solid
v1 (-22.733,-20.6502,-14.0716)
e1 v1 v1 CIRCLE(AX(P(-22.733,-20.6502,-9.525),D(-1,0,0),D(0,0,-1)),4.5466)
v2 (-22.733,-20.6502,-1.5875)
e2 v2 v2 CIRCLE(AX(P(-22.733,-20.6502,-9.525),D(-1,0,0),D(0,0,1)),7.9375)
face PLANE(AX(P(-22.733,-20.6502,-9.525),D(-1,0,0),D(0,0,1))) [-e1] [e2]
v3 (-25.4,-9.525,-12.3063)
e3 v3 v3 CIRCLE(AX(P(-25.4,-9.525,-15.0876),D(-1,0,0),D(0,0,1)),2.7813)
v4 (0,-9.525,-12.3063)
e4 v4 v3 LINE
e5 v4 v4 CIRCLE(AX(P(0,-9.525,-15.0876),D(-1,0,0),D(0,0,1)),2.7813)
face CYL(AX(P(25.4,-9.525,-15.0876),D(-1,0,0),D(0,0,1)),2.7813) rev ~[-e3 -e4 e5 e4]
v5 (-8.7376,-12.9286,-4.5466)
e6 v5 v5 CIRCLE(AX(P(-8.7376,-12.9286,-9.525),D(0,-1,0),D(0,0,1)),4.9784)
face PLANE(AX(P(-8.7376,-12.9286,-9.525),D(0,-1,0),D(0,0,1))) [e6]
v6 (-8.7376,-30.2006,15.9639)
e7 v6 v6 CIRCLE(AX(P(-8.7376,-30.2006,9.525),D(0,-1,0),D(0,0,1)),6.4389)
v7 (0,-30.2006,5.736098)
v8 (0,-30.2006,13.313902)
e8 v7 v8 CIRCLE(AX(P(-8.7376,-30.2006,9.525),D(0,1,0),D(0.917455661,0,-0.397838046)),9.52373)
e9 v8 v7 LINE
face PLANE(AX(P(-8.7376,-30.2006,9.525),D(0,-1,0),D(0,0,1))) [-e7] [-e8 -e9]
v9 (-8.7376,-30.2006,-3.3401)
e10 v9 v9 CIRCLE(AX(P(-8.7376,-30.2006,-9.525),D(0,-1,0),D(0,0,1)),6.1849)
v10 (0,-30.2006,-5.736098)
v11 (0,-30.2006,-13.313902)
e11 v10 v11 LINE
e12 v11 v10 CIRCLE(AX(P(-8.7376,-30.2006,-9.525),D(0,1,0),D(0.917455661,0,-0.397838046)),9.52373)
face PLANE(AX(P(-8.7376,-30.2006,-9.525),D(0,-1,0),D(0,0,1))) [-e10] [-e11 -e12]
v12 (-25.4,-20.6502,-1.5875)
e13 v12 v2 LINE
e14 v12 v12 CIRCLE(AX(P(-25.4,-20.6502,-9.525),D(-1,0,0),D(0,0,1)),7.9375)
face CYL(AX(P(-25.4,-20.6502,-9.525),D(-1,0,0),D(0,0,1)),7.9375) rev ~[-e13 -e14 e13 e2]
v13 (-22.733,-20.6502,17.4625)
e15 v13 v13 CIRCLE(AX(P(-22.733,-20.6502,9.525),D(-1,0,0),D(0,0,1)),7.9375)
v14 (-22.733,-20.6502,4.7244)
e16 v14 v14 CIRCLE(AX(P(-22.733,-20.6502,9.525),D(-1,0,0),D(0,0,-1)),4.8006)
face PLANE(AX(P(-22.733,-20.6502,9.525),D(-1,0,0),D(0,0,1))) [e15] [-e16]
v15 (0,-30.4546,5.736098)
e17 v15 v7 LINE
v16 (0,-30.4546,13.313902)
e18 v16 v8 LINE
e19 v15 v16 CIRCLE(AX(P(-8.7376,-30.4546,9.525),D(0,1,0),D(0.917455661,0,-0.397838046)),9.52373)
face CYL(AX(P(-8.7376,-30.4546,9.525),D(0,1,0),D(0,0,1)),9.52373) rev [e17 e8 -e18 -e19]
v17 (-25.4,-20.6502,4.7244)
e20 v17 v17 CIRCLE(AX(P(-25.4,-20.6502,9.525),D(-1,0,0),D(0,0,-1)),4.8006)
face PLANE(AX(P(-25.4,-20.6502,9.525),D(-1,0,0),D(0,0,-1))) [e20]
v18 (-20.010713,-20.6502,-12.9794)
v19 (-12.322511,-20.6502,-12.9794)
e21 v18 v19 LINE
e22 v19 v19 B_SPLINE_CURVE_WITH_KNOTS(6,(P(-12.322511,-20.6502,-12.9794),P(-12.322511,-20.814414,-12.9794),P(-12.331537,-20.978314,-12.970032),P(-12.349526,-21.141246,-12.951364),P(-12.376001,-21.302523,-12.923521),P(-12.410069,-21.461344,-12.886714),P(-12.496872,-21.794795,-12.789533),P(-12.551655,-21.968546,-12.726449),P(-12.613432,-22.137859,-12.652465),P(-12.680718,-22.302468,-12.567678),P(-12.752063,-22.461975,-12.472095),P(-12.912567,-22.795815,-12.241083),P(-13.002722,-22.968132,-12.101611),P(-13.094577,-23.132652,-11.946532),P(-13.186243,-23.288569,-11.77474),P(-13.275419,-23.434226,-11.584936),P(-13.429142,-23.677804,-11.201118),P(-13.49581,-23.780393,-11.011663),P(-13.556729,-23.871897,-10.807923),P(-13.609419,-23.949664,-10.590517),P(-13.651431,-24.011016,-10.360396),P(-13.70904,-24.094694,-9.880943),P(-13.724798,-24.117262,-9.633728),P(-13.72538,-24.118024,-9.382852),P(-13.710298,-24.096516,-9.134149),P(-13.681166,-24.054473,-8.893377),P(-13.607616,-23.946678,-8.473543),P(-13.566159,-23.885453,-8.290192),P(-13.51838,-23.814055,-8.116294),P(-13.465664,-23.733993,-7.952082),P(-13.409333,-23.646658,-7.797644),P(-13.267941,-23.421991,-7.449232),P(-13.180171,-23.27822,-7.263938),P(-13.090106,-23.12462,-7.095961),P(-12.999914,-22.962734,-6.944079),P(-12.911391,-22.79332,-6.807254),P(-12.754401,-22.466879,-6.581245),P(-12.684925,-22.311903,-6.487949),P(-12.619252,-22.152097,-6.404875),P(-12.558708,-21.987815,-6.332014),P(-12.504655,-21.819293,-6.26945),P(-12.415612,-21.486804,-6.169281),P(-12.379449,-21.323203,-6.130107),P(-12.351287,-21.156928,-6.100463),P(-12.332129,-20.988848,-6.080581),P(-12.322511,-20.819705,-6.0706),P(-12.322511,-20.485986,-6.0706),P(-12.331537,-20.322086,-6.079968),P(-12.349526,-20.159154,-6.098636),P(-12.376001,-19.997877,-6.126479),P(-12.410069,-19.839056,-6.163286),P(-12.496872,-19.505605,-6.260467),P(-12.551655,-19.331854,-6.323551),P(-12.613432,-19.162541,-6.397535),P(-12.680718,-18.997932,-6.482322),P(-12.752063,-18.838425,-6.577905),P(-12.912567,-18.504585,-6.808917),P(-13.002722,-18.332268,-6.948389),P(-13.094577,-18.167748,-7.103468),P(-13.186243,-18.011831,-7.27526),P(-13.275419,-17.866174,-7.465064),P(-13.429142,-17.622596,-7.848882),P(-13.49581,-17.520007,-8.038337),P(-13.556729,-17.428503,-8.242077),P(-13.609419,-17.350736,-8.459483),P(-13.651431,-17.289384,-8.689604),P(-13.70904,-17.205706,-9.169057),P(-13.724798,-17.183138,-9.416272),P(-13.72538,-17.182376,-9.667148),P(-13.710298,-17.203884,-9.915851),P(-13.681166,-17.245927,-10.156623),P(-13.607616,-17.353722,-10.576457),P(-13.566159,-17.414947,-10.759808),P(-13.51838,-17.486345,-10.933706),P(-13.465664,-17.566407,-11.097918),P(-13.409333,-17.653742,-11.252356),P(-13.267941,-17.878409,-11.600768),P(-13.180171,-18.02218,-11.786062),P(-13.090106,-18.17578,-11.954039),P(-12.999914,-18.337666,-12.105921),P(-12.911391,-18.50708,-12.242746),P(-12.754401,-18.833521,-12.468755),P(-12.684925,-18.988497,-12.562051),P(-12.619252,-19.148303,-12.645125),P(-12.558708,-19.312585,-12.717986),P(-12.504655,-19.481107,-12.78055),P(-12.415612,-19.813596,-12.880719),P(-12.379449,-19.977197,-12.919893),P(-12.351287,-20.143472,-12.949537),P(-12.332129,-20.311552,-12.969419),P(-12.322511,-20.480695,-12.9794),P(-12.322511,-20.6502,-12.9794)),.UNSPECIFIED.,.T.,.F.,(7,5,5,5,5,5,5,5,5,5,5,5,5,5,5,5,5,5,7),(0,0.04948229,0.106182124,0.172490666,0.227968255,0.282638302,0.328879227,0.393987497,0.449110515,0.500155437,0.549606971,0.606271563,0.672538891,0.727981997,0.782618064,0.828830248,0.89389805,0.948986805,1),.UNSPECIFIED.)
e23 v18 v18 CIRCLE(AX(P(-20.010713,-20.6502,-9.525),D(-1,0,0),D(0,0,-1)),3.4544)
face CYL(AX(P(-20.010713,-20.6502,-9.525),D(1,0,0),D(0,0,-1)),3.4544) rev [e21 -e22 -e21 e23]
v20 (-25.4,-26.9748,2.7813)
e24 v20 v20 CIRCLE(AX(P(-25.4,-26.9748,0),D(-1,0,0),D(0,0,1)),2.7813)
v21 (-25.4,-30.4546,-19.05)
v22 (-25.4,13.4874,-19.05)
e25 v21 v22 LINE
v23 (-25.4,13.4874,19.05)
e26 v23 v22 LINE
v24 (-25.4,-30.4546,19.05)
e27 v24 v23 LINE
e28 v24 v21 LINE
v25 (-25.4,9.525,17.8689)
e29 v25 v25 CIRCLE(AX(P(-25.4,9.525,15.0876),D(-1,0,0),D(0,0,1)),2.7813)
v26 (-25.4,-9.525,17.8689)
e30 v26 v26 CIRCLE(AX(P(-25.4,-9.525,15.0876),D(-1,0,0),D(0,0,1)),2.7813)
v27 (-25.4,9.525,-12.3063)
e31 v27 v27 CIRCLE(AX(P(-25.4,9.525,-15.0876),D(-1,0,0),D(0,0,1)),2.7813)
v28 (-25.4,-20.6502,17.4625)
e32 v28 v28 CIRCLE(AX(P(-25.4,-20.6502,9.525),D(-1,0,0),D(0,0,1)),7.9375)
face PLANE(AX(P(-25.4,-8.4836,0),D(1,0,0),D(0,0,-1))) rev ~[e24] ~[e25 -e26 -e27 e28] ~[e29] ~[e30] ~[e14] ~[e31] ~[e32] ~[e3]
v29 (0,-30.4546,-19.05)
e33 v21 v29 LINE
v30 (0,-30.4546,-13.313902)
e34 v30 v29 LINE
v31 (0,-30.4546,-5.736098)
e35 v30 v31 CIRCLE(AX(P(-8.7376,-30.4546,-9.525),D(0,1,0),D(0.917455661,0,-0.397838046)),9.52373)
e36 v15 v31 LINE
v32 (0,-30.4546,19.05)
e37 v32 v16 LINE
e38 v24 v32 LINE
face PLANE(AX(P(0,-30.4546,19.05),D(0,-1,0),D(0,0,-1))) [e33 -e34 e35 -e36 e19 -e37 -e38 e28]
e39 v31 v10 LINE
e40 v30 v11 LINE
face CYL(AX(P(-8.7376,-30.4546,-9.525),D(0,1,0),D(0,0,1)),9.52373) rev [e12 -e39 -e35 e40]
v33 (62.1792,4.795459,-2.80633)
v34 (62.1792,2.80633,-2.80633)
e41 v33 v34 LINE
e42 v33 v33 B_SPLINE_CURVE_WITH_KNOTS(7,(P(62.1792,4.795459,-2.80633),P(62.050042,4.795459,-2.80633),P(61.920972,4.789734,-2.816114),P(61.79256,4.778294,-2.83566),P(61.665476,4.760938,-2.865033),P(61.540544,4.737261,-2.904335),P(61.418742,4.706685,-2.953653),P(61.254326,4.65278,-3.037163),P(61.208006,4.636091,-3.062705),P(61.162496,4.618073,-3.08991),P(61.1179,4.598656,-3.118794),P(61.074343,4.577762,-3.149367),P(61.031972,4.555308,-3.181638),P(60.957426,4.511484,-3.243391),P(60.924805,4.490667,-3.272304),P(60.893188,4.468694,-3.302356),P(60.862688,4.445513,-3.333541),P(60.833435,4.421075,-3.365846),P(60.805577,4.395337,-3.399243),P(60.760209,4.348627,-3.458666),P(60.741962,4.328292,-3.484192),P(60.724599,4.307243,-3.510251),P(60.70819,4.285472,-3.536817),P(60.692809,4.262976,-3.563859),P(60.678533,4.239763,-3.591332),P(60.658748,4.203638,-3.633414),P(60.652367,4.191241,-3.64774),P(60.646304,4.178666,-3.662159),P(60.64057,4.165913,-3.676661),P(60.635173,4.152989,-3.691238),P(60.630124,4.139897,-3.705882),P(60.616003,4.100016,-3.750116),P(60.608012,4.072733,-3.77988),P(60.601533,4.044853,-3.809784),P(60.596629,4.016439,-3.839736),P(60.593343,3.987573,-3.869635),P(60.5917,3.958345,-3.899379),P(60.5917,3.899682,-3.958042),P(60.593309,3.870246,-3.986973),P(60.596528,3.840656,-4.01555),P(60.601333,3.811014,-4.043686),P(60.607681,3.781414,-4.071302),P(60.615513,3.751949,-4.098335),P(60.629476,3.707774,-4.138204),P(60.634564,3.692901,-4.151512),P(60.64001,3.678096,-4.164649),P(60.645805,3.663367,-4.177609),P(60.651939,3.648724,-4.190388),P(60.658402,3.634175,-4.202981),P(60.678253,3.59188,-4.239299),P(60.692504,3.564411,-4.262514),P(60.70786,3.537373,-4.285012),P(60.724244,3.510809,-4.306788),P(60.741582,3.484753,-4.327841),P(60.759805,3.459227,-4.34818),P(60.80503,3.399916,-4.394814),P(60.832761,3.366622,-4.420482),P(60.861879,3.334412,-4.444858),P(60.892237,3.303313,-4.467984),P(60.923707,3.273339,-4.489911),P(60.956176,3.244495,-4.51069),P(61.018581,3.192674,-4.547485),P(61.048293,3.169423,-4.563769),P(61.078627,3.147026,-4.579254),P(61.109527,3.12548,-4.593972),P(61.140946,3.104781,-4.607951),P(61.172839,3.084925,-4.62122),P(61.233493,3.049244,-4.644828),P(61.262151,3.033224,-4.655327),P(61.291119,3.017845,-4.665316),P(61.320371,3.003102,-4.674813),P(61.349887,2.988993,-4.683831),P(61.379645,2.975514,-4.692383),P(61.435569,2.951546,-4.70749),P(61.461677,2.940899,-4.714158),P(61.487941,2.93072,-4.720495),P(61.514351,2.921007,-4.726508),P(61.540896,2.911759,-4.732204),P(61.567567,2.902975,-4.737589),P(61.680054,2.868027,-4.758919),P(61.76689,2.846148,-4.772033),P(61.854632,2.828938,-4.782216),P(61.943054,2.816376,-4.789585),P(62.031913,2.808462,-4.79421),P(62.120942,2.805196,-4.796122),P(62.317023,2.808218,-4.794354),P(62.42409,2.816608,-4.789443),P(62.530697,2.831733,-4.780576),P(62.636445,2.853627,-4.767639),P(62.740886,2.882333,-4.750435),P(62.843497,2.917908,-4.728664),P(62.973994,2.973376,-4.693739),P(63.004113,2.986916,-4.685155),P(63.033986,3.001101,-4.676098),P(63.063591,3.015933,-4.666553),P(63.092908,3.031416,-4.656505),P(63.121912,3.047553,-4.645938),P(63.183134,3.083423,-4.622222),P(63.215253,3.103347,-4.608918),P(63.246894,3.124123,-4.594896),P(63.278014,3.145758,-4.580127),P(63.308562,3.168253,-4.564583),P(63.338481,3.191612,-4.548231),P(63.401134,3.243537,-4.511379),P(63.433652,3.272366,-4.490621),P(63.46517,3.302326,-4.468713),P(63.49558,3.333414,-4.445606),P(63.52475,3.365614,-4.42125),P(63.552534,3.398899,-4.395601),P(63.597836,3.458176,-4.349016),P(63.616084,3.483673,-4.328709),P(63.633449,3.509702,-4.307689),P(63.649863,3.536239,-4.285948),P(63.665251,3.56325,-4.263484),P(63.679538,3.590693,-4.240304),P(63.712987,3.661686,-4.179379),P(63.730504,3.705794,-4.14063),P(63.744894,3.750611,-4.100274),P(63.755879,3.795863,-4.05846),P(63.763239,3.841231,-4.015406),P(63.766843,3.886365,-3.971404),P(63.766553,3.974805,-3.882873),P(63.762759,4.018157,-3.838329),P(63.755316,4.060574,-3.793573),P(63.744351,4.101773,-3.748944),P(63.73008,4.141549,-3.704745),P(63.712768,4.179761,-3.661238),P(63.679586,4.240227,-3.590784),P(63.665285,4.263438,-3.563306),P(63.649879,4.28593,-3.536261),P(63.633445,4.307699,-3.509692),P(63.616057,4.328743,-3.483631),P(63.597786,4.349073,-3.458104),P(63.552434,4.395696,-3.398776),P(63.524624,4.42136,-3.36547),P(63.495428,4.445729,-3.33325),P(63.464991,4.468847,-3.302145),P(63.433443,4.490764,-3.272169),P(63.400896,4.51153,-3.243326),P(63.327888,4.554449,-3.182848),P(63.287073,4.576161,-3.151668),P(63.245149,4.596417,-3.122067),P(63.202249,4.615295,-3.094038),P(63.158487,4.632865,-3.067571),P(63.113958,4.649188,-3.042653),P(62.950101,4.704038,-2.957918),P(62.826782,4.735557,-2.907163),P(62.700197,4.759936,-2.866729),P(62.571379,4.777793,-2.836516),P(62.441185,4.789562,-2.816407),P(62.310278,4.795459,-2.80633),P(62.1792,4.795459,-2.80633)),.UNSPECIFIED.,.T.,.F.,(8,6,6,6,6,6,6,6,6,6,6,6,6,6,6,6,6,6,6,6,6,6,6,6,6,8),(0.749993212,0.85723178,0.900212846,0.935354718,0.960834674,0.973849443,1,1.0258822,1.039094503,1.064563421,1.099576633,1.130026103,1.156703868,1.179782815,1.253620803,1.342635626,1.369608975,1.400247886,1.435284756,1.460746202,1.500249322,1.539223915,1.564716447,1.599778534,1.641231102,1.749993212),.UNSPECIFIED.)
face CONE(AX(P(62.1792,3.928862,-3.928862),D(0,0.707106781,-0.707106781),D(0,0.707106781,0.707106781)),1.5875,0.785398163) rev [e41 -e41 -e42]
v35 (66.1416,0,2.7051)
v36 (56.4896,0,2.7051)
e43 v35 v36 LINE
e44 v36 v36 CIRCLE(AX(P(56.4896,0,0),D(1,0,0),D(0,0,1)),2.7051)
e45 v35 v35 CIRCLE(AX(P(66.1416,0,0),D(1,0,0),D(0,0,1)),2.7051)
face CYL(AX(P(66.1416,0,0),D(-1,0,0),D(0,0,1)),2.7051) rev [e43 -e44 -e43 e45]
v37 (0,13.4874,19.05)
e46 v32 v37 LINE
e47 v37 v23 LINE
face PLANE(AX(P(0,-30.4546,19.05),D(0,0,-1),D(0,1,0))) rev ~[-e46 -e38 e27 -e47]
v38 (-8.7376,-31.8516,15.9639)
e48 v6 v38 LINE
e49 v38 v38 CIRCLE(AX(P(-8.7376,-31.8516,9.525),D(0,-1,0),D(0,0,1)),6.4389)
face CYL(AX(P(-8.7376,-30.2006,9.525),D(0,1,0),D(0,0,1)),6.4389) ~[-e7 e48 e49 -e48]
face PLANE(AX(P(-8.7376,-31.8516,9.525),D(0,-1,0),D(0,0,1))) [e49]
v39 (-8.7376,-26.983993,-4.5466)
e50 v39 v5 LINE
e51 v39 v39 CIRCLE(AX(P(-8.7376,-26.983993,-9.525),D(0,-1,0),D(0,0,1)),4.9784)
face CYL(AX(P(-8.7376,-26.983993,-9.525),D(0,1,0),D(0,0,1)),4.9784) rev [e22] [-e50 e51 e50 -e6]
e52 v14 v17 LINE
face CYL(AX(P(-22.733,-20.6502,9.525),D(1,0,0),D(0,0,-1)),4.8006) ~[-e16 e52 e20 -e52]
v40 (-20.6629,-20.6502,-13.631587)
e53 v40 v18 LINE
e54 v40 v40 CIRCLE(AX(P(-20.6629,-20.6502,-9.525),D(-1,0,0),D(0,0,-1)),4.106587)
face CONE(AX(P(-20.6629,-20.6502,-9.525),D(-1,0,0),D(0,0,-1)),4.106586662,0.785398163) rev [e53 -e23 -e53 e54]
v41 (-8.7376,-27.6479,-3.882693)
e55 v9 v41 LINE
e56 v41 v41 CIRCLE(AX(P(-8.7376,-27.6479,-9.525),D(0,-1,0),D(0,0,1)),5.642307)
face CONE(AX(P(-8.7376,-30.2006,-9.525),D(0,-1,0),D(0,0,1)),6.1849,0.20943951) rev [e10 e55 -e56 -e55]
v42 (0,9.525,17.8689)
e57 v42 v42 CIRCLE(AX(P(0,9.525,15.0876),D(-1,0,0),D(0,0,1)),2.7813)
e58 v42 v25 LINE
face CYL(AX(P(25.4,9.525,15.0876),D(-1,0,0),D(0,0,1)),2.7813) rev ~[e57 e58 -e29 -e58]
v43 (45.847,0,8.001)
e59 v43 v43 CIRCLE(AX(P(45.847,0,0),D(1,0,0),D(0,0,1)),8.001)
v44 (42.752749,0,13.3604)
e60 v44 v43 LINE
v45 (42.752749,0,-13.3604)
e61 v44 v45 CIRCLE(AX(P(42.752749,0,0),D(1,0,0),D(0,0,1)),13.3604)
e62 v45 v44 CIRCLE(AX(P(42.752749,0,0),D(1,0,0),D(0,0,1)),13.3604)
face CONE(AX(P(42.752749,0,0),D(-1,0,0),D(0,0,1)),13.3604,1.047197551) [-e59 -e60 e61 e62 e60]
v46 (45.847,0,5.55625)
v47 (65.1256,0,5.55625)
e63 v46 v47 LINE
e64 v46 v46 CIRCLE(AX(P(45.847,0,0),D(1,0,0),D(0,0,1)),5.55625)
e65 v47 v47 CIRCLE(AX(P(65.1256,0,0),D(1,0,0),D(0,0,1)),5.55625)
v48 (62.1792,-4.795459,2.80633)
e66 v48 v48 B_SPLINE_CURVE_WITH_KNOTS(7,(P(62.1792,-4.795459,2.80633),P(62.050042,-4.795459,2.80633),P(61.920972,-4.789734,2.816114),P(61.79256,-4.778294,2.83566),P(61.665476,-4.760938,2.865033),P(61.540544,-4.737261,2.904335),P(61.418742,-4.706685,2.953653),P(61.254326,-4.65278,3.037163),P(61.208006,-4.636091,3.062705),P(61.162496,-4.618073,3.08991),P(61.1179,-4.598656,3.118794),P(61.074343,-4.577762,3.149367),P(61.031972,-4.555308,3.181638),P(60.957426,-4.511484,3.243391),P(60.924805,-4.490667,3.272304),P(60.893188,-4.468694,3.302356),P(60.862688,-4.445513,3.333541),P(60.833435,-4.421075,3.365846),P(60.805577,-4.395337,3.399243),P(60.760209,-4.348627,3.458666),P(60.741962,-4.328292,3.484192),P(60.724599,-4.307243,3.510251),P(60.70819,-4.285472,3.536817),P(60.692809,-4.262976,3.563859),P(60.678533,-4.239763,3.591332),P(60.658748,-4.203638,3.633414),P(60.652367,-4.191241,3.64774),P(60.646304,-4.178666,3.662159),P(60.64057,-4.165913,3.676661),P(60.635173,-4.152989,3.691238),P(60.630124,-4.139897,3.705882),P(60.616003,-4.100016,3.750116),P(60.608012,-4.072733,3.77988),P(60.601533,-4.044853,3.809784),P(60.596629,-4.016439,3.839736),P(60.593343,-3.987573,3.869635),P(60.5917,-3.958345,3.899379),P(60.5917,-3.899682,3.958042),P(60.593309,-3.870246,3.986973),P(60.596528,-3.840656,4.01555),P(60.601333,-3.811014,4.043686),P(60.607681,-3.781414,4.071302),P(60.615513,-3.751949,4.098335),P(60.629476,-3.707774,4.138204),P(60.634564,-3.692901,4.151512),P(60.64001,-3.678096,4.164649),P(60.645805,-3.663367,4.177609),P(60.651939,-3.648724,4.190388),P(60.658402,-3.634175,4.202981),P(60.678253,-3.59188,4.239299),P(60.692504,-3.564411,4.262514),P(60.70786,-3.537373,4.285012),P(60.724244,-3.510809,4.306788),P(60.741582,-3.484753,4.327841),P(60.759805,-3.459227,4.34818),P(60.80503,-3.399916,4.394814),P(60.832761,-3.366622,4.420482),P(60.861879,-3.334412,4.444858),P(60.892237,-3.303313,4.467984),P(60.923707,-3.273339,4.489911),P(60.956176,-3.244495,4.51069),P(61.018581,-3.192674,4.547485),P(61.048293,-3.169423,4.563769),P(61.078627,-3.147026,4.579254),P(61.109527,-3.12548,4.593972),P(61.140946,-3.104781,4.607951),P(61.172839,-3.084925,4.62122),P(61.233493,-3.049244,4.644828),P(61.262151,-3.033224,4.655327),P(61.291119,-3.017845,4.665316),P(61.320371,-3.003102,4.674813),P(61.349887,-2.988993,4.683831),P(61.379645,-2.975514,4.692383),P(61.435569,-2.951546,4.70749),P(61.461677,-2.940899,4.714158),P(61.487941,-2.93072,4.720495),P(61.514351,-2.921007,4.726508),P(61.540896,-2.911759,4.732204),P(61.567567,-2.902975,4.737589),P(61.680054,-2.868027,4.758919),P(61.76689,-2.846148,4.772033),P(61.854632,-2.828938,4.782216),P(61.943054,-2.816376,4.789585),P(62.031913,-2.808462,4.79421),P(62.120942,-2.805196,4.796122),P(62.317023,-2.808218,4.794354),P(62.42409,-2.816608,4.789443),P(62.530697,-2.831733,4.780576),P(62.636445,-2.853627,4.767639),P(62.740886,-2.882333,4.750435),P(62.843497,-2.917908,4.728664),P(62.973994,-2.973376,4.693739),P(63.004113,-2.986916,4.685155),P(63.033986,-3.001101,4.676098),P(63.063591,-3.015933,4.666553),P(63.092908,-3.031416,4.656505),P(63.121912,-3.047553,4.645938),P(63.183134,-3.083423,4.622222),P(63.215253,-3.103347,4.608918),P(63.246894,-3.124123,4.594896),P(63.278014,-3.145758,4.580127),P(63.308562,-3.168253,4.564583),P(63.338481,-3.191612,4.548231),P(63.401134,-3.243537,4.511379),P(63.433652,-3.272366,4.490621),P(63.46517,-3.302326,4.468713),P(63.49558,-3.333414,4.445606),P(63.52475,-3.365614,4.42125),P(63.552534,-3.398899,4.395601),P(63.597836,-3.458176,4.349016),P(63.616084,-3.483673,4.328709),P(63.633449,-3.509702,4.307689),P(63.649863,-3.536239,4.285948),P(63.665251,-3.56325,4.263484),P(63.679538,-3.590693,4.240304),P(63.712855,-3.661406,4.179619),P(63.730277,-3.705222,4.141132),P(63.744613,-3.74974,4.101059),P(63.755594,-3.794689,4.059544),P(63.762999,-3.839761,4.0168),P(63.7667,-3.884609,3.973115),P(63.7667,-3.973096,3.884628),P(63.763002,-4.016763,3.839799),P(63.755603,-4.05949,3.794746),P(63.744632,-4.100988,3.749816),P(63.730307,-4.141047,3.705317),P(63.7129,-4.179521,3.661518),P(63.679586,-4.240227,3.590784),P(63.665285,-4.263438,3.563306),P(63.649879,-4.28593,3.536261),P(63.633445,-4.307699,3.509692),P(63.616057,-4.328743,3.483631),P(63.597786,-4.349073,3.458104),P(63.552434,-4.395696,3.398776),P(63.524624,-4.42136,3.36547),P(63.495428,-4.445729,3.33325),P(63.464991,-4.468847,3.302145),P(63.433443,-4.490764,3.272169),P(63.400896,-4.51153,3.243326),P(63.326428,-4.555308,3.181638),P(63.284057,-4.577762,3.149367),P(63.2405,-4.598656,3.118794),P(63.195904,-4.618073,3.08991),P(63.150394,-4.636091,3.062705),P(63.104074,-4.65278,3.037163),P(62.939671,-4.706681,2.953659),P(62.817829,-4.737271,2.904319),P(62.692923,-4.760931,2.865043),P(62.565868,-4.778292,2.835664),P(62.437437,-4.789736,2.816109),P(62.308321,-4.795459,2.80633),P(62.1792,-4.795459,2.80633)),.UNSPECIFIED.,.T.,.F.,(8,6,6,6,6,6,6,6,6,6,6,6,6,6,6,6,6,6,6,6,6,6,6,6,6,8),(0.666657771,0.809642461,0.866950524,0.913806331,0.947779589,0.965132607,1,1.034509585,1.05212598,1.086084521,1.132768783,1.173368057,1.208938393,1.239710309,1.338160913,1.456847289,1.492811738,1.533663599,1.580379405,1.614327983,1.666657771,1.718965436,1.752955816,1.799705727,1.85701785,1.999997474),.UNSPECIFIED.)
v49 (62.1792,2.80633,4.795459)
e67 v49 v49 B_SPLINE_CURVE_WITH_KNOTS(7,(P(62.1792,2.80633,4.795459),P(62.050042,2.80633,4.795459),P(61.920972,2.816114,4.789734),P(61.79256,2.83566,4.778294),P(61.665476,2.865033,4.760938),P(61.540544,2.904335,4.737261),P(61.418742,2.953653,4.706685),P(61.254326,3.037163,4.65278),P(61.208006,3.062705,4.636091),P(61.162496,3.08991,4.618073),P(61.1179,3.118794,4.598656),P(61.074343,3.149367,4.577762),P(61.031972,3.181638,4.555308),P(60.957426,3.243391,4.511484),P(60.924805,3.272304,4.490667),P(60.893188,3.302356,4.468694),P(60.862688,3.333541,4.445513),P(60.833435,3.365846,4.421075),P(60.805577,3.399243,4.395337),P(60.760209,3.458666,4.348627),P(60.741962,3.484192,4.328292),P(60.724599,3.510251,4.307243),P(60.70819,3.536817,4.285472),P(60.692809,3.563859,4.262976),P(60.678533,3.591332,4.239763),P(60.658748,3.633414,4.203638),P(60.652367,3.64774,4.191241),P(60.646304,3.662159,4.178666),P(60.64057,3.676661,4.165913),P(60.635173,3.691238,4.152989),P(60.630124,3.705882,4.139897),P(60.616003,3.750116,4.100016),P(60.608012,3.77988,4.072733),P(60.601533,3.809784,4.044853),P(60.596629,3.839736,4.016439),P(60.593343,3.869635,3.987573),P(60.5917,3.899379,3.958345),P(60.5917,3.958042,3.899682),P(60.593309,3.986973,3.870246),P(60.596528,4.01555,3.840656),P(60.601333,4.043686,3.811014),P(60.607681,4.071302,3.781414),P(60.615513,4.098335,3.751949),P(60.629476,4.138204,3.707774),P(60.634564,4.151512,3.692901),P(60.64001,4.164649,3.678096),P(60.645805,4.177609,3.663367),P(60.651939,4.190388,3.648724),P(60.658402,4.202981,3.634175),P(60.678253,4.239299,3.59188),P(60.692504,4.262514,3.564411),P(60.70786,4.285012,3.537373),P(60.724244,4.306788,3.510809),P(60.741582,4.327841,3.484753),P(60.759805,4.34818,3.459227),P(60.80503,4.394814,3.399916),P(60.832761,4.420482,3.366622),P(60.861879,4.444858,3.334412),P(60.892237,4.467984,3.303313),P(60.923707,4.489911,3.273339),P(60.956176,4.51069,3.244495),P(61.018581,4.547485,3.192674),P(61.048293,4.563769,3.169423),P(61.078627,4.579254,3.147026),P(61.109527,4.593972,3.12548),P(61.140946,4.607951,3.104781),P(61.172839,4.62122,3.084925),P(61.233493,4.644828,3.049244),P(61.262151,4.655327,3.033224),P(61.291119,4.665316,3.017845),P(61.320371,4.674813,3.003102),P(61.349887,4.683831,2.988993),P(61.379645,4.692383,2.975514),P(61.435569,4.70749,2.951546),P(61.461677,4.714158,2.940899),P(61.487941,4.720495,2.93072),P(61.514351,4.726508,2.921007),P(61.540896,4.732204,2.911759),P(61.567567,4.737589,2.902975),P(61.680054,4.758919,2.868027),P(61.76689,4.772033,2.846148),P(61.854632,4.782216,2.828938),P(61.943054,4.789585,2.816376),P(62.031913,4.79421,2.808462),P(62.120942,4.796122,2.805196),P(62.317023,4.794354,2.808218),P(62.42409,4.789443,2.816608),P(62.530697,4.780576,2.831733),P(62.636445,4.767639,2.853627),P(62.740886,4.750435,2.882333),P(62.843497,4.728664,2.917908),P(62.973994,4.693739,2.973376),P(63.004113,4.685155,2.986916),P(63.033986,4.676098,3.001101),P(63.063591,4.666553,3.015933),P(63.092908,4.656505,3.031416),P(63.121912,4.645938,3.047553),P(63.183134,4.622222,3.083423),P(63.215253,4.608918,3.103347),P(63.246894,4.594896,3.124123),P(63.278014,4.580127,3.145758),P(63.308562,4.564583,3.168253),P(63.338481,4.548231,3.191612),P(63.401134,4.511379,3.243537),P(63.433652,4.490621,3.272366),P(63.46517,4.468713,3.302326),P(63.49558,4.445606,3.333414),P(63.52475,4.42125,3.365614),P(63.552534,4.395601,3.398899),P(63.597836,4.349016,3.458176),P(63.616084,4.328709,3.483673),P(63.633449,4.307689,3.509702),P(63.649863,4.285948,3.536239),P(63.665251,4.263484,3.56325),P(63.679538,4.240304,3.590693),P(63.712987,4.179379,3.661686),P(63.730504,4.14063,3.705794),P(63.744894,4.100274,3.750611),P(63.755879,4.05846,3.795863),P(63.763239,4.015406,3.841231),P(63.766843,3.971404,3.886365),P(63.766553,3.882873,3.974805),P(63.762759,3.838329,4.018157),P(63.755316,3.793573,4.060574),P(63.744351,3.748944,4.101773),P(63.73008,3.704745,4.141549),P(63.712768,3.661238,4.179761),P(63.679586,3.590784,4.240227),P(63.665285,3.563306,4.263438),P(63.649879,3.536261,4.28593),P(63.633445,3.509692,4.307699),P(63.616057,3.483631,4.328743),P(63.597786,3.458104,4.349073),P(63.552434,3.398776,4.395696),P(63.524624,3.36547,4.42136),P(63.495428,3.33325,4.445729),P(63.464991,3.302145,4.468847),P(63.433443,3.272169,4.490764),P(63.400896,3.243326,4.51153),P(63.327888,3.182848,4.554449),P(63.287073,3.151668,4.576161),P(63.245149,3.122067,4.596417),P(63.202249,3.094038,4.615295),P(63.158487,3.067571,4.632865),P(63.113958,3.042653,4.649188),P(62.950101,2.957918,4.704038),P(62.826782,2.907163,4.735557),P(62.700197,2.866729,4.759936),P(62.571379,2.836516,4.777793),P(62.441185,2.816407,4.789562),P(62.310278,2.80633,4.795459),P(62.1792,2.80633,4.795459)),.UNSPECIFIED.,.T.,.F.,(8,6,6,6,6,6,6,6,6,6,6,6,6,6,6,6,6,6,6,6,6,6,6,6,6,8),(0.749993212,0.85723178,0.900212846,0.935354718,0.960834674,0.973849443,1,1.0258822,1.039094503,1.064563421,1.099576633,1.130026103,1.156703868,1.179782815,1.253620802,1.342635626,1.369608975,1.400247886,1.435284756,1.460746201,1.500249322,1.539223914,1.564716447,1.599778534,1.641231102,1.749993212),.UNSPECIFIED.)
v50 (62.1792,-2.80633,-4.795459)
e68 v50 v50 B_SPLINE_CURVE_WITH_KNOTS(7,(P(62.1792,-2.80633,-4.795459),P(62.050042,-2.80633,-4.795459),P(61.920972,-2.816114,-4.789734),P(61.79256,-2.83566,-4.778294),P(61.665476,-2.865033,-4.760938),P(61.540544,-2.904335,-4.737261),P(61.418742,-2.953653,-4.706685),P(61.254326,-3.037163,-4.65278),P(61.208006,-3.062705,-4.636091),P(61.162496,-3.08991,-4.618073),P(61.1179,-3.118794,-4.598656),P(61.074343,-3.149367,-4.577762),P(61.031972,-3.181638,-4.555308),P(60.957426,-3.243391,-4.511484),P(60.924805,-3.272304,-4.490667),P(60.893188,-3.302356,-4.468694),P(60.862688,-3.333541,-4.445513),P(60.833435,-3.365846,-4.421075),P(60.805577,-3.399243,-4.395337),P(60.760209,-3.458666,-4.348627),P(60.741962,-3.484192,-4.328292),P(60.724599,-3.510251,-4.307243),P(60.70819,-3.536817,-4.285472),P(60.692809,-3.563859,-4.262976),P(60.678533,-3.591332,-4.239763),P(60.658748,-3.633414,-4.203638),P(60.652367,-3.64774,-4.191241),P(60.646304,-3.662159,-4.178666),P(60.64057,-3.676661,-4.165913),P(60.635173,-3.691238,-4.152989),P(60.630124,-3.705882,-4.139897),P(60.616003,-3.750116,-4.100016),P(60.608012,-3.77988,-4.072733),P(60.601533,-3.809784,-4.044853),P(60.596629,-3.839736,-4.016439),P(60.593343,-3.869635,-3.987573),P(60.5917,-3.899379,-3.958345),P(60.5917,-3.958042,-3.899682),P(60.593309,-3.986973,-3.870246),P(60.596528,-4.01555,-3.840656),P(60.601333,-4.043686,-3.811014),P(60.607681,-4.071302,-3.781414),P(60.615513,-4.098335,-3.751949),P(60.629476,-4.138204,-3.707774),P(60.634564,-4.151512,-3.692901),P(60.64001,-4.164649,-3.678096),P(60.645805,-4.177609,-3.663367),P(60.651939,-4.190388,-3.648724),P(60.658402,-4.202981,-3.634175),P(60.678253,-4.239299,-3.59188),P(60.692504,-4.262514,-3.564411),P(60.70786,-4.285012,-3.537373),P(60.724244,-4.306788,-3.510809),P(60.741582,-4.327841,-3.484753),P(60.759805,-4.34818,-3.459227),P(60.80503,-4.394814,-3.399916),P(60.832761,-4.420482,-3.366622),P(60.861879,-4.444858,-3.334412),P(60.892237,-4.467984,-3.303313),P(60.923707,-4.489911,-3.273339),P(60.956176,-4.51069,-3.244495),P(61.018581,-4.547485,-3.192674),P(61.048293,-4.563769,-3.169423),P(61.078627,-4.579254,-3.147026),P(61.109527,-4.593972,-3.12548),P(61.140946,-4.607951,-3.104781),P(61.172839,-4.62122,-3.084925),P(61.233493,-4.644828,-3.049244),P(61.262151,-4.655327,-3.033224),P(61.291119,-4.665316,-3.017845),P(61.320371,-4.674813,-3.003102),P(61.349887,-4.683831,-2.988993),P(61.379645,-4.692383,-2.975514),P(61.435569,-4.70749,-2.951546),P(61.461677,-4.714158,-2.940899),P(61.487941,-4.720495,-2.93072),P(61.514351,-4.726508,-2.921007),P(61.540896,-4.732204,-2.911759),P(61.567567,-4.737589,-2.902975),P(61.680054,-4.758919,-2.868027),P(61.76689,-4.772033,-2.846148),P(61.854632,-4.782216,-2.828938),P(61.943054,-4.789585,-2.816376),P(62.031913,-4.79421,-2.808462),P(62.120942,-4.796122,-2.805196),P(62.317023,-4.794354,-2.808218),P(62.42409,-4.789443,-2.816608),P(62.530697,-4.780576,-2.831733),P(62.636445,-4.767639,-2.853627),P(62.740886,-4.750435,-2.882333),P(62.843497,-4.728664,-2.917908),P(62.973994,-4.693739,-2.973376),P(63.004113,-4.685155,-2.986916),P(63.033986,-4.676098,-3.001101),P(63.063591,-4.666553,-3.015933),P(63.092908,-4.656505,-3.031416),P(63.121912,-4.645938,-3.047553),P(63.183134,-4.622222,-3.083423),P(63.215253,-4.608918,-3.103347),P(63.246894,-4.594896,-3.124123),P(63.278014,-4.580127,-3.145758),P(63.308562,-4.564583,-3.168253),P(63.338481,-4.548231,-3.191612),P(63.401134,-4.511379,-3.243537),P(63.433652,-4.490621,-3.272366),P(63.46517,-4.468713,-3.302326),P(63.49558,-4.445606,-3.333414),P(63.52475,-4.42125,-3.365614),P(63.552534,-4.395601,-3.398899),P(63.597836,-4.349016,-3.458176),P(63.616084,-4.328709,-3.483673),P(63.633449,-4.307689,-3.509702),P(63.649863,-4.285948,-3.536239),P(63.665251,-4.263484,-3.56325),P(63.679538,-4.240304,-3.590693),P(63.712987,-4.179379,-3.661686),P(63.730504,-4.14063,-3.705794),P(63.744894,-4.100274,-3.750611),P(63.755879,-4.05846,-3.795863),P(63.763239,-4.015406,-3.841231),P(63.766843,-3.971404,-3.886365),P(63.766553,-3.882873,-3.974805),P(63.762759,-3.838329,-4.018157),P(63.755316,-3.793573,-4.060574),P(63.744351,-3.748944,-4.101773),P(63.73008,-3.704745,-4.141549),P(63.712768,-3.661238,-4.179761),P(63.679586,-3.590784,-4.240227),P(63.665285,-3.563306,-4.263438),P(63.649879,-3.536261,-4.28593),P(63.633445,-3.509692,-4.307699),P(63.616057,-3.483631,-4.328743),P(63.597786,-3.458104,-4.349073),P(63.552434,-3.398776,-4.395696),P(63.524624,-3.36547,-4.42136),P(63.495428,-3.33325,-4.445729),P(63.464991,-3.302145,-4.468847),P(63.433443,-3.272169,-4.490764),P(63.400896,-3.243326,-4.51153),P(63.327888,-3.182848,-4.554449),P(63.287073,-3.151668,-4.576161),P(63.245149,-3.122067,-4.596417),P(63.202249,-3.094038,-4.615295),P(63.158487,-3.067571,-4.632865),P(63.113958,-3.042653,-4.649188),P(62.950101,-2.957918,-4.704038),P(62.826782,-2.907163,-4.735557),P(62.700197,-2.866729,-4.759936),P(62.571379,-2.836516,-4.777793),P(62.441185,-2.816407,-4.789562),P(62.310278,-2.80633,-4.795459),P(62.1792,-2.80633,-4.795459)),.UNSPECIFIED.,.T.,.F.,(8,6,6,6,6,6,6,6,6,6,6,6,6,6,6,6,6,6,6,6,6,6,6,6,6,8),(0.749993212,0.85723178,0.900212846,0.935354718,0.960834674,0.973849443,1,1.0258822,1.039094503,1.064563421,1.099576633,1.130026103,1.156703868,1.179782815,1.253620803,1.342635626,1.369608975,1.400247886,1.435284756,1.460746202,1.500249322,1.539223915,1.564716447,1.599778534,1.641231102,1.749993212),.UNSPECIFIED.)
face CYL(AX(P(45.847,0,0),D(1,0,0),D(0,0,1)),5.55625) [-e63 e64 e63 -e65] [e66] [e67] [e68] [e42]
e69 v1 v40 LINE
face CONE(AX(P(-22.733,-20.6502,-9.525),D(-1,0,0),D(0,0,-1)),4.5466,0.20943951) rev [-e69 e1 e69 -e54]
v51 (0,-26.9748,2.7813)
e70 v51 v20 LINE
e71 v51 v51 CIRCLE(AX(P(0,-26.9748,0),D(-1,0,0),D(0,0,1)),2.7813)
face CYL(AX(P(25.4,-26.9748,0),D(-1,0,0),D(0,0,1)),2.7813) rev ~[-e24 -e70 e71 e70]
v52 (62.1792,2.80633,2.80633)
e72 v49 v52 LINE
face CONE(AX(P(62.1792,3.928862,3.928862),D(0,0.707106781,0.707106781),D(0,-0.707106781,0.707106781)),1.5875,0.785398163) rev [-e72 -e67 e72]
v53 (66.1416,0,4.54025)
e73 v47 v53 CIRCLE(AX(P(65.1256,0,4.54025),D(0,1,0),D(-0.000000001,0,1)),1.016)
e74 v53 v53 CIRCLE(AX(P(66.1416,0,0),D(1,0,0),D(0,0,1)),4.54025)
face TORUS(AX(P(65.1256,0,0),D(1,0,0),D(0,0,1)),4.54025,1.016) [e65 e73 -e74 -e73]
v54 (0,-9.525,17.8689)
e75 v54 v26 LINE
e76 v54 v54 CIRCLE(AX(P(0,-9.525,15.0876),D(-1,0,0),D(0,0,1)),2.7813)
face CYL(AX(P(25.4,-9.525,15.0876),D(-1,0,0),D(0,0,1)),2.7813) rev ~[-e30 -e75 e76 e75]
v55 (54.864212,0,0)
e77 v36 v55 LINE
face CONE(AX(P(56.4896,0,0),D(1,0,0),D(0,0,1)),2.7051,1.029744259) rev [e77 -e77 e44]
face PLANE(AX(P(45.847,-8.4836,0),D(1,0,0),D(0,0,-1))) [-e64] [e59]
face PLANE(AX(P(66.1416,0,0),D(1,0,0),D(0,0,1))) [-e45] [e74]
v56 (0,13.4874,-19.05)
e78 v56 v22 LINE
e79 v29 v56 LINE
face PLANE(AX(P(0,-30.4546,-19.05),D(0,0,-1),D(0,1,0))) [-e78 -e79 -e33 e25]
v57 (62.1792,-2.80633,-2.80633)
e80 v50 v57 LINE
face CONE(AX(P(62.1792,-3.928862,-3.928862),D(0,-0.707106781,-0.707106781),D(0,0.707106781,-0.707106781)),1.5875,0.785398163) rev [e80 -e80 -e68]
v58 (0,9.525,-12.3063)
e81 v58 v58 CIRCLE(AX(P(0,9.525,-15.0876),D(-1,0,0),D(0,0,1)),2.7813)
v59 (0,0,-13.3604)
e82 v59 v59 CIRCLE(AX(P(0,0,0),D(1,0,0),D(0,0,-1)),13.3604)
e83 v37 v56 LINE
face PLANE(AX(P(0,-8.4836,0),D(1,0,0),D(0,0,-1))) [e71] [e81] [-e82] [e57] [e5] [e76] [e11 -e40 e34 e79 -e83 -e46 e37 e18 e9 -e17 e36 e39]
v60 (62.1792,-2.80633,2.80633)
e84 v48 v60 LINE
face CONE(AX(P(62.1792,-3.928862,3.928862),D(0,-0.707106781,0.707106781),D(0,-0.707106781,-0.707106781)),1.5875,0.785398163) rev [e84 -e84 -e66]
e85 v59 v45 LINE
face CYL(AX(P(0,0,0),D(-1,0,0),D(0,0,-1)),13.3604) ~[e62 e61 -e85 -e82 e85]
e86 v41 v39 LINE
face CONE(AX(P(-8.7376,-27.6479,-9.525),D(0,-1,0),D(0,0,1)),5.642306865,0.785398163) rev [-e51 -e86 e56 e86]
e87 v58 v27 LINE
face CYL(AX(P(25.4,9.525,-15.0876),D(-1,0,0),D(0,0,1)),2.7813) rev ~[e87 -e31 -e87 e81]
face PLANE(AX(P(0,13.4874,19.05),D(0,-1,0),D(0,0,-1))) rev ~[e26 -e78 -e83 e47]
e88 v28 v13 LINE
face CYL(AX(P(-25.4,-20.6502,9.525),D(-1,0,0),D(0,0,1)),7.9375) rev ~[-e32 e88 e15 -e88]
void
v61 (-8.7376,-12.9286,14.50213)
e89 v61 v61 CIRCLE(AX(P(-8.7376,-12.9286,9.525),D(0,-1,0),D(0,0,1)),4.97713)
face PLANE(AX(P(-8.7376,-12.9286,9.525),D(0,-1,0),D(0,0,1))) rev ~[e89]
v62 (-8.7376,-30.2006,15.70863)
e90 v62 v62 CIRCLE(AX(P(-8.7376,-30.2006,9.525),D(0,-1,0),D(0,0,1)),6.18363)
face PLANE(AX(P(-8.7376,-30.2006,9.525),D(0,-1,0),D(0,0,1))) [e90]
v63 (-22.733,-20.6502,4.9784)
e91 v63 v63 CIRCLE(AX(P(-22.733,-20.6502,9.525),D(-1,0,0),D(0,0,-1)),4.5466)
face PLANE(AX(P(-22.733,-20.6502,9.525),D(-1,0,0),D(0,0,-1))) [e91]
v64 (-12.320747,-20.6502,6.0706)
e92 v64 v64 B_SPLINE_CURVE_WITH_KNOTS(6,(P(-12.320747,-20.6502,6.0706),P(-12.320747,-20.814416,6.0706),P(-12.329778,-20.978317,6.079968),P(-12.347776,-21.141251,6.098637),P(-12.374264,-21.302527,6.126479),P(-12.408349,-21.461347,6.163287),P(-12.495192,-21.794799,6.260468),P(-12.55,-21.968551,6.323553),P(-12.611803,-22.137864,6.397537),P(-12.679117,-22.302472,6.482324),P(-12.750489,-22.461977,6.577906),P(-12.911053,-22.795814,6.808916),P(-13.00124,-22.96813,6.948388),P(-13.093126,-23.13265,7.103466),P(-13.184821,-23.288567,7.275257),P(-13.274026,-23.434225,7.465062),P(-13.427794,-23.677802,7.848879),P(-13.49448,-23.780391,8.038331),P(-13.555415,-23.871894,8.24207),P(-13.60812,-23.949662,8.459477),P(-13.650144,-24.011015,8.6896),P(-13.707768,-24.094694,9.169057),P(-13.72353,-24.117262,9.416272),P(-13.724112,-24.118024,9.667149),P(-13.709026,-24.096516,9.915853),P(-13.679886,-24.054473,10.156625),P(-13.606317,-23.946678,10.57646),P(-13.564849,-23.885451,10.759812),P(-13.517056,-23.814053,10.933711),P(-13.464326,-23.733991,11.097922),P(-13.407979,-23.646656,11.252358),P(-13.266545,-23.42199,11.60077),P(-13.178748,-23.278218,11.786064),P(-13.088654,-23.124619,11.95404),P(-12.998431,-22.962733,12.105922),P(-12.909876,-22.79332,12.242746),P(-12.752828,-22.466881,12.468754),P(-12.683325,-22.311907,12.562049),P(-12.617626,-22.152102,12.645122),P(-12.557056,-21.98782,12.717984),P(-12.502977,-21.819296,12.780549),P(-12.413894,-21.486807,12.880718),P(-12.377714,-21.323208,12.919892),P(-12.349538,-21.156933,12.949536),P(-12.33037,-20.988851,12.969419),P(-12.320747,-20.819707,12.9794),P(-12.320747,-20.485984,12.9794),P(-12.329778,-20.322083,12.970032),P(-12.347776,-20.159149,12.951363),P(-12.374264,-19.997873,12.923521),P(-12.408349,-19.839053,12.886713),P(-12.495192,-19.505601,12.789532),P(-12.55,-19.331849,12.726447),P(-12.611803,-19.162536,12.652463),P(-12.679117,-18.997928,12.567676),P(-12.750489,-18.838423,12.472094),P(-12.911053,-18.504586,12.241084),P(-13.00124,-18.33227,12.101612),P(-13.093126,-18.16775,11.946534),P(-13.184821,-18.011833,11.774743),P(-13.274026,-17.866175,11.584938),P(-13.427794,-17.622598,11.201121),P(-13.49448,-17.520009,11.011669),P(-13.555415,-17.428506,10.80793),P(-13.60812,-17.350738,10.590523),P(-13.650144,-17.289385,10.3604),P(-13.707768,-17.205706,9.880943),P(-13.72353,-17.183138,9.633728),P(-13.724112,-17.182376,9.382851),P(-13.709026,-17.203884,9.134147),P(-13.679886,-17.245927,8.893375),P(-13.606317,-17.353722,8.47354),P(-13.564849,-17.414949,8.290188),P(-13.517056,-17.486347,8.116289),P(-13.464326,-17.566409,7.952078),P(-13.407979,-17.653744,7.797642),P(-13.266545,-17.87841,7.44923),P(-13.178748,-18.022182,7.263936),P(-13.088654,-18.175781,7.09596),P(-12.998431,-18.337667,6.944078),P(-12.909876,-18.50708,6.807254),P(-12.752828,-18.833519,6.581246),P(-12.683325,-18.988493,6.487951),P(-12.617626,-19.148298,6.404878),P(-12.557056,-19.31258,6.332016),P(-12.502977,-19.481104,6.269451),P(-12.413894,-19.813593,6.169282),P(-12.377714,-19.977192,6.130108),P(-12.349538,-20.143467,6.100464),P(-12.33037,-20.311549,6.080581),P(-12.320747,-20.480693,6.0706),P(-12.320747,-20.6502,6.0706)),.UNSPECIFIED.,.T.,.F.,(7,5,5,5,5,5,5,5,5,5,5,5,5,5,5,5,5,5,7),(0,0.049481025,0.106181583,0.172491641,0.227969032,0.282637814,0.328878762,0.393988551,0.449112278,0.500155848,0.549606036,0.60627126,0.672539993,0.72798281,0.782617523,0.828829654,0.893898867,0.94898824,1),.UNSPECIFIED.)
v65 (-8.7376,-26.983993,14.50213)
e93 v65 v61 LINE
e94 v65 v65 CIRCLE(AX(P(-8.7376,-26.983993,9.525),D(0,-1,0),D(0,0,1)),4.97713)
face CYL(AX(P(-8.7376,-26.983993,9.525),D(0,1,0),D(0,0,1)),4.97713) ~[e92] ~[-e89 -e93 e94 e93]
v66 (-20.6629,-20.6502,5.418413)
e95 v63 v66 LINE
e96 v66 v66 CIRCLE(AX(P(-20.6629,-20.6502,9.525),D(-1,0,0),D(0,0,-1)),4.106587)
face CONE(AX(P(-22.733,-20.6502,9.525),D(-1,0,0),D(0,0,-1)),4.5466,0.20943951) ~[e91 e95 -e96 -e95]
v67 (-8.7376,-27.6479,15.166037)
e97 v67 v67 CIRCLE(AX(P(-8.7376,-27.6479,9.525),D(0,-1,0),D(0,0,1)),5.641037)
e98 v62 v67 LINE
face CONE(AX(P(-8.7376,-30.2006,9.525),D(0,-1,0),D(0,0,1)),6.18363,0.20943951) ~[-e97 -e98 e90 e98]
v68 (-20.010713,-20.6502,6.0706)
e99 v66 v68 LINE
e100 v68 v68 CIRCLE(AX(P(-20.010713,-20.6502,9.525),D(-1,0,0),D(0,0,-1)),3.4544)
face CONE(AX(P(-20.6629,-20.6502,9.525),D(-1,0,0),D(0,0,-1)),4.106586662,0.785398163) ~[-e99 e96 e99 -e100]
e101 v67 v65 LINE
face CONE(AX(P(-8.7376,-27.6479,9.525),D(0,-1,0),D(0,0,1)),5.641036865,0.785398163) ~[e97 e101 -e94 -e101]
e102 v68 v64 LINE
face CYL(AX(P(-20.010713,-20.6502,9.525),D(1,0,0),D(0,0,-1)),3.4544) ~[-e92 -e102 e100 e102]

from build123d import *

# Parameters (mm, degrees)
SKETCH1_W           = 38.1
SKETCH1_H           = 43.942
EXTRUDE1_DEPTH      = 45.847
EXTRUDE1_DEPTH_BACK = 25.4
CUT_EXTRUDE1_REACH  = 47.847
SKETCH2_W           = 38.1
SKETCH2_H           = 43.942
SKETCH2_R           = 13.3604
SKETCH14_R          = 7.9375
CUT_EXTRUDE2_DEPTH  = 2.667
SKETCH10_R          = 6.4389
EXTRUDE2_DEPTH      = 1.651
SKETCH11_R          = 4.8006
EXTRUDE3_DEPTH      = 2.667
CIRPATTERN1_COUNT   = 4
HOLE1_D             = 5.5626
HOLE1_DEPTH         = 25.4


with BuildPart() as part:
    # Sketch1 → Extrude1 (new body, two sides)
    with BuildSketch(Plane(origin=(0, 0, 0), x_dir=(0, 0, -1), z_dir=(1, 0, 0))) as extrude1_sk:
        with Locations((0, -8.4836)):
            Rectangle(SKETCH1_W, SKETCH1_H)
    extrude(amount=EXTRUDE1_DEPTH)
    extrude(extrude1_sk.sketch, amount=-EXTRUDE1_DEPTH_BACK)

    # Sketch2 → Cut-Extrude1 (cut, up to next)
    with BuildSketch(Plane(origin=(0, 0, 0), x_dir=(0, 0, -1), z_dir=(1, 0, 0)), mode=Mode.PRIVATE) as cut_extrude1_sk1:
        with Locations((0, -8.4836)):
            Rectangle(SKETCH2_W, SKETCH2_H)
        Circle(SKETCH2_R, mode=Mode.SUBTRACT)
    cut_extrude1_tool1 = extrude(cut_extrude1_sk1.sketch, amount=CUT_EXTRUDE1_REACH, mode=Mode.PRIVATE) & part.part
    add(cut_extrude1_tool1.solids().sort_by_distance((0, 13.429241, 0))[0], mode=Mode.SUBTRACT)

    # Sketch3 → Cut-Revolve1 (revolve, cut)
    with BuildSketch(Plane.XY, mode=Mode.PRIVATE) as cut_revolve1_sk:
        Polygon((42.752748967, 13.3604), (45.847, 8.001), (45.847, 13.3604), align=None)
    revolve(cut_revolve1_sk.sketch.rotate(Axis((42.598036416, 0, 0), (1, 0, 0)), 90), axis=Axis((42.598036416, 0, 0), (1, 0, 0)), mode=Mode.SUBTRACT)  # turned: the seam where the file's is

    # S2D0002 → Cut-Revolve2 (revolve, cut)
    with BuildSketch(Plane(origin=(-22.733, -19.8374, 9.525), x_dir=(0, 1, 0), z_dir=(0, 0, 1)), mode=Mode.PRIVATE) as cut_revolve2_sk:
        Polygon((-0.8128, 0), (3.7338, 0), (3.293786662, -2.0701), (2.6416, -2.722286662), (2.6416, -13.97), (-0.8128, -13.97), align=None)
    revolve(cut_revolve2_sk.sketch.rotate(Axis((-8.0645, -20.6502, 9.525), (-1, 0, 0)), 90), axis=Axis((-8.0645, -20.6502, 9.525), (-1, 0, 0)), mode=Mode.SUBTRACT)  # turned: the seam where the file's is

    # Sketch5 → Cut-Revolve3 (revolve, cut)
    with BuildSketch(Plane(origin=(-22.733, -19.8374, -9.525), x_dir=(0, 1, 0), z_dir=(0, 0, 1)), mode=Mode.PRIVATE) as cut_revolve3_sk:
        Polygon((-0.8128, 0), (3.7338, 0), (3.293786662, -2.0701), (2.6416, -2.722286662), (2.6416, -13.97), (-0.8128, -13.97), align=None)
    revolve(cut_revolve3_sk.sketch.rotate(Axis((-8.0645, -20.6502, -9.525), (-1, 0, 0)), 90), axis=Axis((-8.0645, -20.6502, -9.525), (-1, 0, 0)), mode=Mode.SUBTRACT)  # turned: the seam where the file's is

    # Sketch14 → Cut-Extrude2 (cut)
    with BuildSketch(Plane.ZY.offset(25.4)):
        with Locations((-9.525, -20.6502)):
            Circle(SKETCH14_R)
        with Locations((9.525, -20.6502)):
            Circle(SKETCH14_R)
    extrude(amount=-CUT_EXTRUDE2_DEPTH, mode=Mode.SUBTRACT)

    # Sketch6 → Cut-Revolve4 (revolve, cut)
    with BuildSketch(Plane(origin=(-8.7376, -30.2006, 9.525), x_dir=(-1, 0, 0), z_dir=(0, 0, 1)), mode=Mode.PRIVATE) as cut_revolve4_sk:
        Polygon((6.18363, 0), (5.641036865, -2.5527), (4.97713, -3.216606865), (4.97713, -17.272), (0, -17.272), (0, 0), (0, 0.254), (9.52373, 0.254), (9.52373, 0), align=None)
    revolve(cut_revolve4_sk.sketch.rotate(Axis((-8.7376, -12.065, 9.525), (0, -1, 0)), 270), axis=Axis((-8.7376, -12.065, 9.525), (0, -1, 0)), mode=Mode.SUBTRACT)  # turned: the seam where the file's is

    # Sketch7 → Cut-Revolve5 (revolve, cut)
    with BuildSketch(Plane(origin=(-8.7376, -30.2006, -9.525), x_dir=(-1, 0, 0), z_dir=(0, 0, 1)), mode=Mode.PRIVATE) as cut_revolve5_sk:
        Polygon((6.1849, 0), (5.642306865, -2.5527), (4.9784, -3.216606865), (4.9784, -17.272), (0, -17.272), (0, 0), (0, 0.254), (9.52373, 0.254), (9.52373, 0), align=None)
    revolve(cut_revolve5_sk.sketch.rotate(Axis((-8.7376, -12.065, -9.525), (0, -1, 0)), 270), axis=Axis((-8.7376, -12.065, -9.525), (0, -1, 0)), mode=Mode.SUBTRACT)  # turned: the seam where the file's is

    # Sketch8 → Revolve1 (revolve)
    with BuildSketch(Plane.XY, mode=Mode.PRIVATE) as revolve1_sk:
        with BuildLine():
            Line((45.847, 0), (45.847, 5.55625))
            Line((45.847, 5.55625), (65.1256, 5.55625))
            ThreePointArc((65.1256, 5.55625), (65.84402049, 5.25867049), (66.1416, 4.54025))
            Line((66.1416, 4.54025), (66.1416, 0))
            Line((66.1416, 0), (45.847, 0))
        make_face()
    revolve(revolve1_sk.sketch.rotate(Axis((44.83227, 0, 0), (1, 0, 0)), 90), axis=Axis((44.83227, 0, 0), (1, 0, 0)))  # turned: the seam where the file's is

    # S2D0001 → Cut-Revolve6 (revolve, cut)
    with BuildSketch(Plane(origin=(66.1416, -2.8067, 0), x_dir=(0, -1, 0), z_dir=(0, 0, 1)), mode=Mode.PRIVATE) as cut_revolve6_sk:
        Polygon((-0.1016, 0), (-0.1016, -9.652), (-2.8067, -11.277388061), (-2.8067, 0), align=None)
    revolve(cut_revolve6_sk.sketch.rotate(Axis((53.702842726, 0, 0), (1, 0, 0)), 270), axis=Axis((53.702842726, 0, 0), (1, 0, 0)), mode=Mode.SUBTRACT)  # turned: the seam where the file's is

    # Sketch10 → Extrude2 (add)
    with BuildSketch(Plane(origin=(-25.4, -30.2006, 0), x_dir=(0, 0, -1), z_dir=(0, -1, 0))):
        with Locations(Location((-9.525, 16.6624, 0), (0, 0, 180))):  # turned: the seam where the file's is
            Circle(SKETCH10_R)
    extrude(amount=EXTRUDE2_DEPTH)

    # Sketch11 → Extrude3 (add)
    with BuildSketch(Plane.ZY.offset(22.733)):
        with Locations(Location((9.525, -20.6502, 0), (0, 0, 180))):  # turned: the seam where the file's is
            Circle(SKETCH11_R)
    extrude(amount=EXTRUDE3_DEPTH)

    # Sketch12 → Cut-Revolve7 (revolve, cut)
    with BuildSketch(Plane(origin=(62.1792, 3.928862053, -3.928862053), x_dir=(-1, 0, 0), z_dir=(0, -0.707106781, -0.707106781)), mode=Mode.PRIVATE) as cut_revolve7_sk:
        Polygon((0, 0), (1.5875, 0), (0, -1.5875), align=None)
    cut_revolve7 = revolve(cut_revolve7_sk.sketch.rotate(Axis((62.1792, 1.500688387, -1.500688387), (0, 0.707106781, -0.707106781)), 90), axis=Axis((62.1792, 1.500688387, -1.500688387), (0, 0.707106781, -0.707106781)), mode=Mode.SUBTRACT)  # turned: the seam where the file's is

    # CirPattern1: Cut-Revolve7 ×4 about axis
    cirpattern1_axis = Axis((45.848, 0, 0), (-1, 0, 0))
    for i in range(1, CIRPATTERN1_COUNT):
        add(cut_revolve7.rotate(cirpattern1_axis, i * 360 / CIRPATTERN1_COUNT), mode=Mode.SUBTRACT)

    # Hole1
    with Locations(Plane(origin=(0, 0, 0), x_dir=(0, 0, -1), z_dir=(1, 0, 0))):
        with Locations((-15.0876, 9.525), (-15.0876, -9.525), (15.0876, 9.525), (15.0876, -9.525), (0, -26.9748)):
            Hole(HOLE1_D / 2, depth=HOLE1_DEPTH)


solid = part.part
